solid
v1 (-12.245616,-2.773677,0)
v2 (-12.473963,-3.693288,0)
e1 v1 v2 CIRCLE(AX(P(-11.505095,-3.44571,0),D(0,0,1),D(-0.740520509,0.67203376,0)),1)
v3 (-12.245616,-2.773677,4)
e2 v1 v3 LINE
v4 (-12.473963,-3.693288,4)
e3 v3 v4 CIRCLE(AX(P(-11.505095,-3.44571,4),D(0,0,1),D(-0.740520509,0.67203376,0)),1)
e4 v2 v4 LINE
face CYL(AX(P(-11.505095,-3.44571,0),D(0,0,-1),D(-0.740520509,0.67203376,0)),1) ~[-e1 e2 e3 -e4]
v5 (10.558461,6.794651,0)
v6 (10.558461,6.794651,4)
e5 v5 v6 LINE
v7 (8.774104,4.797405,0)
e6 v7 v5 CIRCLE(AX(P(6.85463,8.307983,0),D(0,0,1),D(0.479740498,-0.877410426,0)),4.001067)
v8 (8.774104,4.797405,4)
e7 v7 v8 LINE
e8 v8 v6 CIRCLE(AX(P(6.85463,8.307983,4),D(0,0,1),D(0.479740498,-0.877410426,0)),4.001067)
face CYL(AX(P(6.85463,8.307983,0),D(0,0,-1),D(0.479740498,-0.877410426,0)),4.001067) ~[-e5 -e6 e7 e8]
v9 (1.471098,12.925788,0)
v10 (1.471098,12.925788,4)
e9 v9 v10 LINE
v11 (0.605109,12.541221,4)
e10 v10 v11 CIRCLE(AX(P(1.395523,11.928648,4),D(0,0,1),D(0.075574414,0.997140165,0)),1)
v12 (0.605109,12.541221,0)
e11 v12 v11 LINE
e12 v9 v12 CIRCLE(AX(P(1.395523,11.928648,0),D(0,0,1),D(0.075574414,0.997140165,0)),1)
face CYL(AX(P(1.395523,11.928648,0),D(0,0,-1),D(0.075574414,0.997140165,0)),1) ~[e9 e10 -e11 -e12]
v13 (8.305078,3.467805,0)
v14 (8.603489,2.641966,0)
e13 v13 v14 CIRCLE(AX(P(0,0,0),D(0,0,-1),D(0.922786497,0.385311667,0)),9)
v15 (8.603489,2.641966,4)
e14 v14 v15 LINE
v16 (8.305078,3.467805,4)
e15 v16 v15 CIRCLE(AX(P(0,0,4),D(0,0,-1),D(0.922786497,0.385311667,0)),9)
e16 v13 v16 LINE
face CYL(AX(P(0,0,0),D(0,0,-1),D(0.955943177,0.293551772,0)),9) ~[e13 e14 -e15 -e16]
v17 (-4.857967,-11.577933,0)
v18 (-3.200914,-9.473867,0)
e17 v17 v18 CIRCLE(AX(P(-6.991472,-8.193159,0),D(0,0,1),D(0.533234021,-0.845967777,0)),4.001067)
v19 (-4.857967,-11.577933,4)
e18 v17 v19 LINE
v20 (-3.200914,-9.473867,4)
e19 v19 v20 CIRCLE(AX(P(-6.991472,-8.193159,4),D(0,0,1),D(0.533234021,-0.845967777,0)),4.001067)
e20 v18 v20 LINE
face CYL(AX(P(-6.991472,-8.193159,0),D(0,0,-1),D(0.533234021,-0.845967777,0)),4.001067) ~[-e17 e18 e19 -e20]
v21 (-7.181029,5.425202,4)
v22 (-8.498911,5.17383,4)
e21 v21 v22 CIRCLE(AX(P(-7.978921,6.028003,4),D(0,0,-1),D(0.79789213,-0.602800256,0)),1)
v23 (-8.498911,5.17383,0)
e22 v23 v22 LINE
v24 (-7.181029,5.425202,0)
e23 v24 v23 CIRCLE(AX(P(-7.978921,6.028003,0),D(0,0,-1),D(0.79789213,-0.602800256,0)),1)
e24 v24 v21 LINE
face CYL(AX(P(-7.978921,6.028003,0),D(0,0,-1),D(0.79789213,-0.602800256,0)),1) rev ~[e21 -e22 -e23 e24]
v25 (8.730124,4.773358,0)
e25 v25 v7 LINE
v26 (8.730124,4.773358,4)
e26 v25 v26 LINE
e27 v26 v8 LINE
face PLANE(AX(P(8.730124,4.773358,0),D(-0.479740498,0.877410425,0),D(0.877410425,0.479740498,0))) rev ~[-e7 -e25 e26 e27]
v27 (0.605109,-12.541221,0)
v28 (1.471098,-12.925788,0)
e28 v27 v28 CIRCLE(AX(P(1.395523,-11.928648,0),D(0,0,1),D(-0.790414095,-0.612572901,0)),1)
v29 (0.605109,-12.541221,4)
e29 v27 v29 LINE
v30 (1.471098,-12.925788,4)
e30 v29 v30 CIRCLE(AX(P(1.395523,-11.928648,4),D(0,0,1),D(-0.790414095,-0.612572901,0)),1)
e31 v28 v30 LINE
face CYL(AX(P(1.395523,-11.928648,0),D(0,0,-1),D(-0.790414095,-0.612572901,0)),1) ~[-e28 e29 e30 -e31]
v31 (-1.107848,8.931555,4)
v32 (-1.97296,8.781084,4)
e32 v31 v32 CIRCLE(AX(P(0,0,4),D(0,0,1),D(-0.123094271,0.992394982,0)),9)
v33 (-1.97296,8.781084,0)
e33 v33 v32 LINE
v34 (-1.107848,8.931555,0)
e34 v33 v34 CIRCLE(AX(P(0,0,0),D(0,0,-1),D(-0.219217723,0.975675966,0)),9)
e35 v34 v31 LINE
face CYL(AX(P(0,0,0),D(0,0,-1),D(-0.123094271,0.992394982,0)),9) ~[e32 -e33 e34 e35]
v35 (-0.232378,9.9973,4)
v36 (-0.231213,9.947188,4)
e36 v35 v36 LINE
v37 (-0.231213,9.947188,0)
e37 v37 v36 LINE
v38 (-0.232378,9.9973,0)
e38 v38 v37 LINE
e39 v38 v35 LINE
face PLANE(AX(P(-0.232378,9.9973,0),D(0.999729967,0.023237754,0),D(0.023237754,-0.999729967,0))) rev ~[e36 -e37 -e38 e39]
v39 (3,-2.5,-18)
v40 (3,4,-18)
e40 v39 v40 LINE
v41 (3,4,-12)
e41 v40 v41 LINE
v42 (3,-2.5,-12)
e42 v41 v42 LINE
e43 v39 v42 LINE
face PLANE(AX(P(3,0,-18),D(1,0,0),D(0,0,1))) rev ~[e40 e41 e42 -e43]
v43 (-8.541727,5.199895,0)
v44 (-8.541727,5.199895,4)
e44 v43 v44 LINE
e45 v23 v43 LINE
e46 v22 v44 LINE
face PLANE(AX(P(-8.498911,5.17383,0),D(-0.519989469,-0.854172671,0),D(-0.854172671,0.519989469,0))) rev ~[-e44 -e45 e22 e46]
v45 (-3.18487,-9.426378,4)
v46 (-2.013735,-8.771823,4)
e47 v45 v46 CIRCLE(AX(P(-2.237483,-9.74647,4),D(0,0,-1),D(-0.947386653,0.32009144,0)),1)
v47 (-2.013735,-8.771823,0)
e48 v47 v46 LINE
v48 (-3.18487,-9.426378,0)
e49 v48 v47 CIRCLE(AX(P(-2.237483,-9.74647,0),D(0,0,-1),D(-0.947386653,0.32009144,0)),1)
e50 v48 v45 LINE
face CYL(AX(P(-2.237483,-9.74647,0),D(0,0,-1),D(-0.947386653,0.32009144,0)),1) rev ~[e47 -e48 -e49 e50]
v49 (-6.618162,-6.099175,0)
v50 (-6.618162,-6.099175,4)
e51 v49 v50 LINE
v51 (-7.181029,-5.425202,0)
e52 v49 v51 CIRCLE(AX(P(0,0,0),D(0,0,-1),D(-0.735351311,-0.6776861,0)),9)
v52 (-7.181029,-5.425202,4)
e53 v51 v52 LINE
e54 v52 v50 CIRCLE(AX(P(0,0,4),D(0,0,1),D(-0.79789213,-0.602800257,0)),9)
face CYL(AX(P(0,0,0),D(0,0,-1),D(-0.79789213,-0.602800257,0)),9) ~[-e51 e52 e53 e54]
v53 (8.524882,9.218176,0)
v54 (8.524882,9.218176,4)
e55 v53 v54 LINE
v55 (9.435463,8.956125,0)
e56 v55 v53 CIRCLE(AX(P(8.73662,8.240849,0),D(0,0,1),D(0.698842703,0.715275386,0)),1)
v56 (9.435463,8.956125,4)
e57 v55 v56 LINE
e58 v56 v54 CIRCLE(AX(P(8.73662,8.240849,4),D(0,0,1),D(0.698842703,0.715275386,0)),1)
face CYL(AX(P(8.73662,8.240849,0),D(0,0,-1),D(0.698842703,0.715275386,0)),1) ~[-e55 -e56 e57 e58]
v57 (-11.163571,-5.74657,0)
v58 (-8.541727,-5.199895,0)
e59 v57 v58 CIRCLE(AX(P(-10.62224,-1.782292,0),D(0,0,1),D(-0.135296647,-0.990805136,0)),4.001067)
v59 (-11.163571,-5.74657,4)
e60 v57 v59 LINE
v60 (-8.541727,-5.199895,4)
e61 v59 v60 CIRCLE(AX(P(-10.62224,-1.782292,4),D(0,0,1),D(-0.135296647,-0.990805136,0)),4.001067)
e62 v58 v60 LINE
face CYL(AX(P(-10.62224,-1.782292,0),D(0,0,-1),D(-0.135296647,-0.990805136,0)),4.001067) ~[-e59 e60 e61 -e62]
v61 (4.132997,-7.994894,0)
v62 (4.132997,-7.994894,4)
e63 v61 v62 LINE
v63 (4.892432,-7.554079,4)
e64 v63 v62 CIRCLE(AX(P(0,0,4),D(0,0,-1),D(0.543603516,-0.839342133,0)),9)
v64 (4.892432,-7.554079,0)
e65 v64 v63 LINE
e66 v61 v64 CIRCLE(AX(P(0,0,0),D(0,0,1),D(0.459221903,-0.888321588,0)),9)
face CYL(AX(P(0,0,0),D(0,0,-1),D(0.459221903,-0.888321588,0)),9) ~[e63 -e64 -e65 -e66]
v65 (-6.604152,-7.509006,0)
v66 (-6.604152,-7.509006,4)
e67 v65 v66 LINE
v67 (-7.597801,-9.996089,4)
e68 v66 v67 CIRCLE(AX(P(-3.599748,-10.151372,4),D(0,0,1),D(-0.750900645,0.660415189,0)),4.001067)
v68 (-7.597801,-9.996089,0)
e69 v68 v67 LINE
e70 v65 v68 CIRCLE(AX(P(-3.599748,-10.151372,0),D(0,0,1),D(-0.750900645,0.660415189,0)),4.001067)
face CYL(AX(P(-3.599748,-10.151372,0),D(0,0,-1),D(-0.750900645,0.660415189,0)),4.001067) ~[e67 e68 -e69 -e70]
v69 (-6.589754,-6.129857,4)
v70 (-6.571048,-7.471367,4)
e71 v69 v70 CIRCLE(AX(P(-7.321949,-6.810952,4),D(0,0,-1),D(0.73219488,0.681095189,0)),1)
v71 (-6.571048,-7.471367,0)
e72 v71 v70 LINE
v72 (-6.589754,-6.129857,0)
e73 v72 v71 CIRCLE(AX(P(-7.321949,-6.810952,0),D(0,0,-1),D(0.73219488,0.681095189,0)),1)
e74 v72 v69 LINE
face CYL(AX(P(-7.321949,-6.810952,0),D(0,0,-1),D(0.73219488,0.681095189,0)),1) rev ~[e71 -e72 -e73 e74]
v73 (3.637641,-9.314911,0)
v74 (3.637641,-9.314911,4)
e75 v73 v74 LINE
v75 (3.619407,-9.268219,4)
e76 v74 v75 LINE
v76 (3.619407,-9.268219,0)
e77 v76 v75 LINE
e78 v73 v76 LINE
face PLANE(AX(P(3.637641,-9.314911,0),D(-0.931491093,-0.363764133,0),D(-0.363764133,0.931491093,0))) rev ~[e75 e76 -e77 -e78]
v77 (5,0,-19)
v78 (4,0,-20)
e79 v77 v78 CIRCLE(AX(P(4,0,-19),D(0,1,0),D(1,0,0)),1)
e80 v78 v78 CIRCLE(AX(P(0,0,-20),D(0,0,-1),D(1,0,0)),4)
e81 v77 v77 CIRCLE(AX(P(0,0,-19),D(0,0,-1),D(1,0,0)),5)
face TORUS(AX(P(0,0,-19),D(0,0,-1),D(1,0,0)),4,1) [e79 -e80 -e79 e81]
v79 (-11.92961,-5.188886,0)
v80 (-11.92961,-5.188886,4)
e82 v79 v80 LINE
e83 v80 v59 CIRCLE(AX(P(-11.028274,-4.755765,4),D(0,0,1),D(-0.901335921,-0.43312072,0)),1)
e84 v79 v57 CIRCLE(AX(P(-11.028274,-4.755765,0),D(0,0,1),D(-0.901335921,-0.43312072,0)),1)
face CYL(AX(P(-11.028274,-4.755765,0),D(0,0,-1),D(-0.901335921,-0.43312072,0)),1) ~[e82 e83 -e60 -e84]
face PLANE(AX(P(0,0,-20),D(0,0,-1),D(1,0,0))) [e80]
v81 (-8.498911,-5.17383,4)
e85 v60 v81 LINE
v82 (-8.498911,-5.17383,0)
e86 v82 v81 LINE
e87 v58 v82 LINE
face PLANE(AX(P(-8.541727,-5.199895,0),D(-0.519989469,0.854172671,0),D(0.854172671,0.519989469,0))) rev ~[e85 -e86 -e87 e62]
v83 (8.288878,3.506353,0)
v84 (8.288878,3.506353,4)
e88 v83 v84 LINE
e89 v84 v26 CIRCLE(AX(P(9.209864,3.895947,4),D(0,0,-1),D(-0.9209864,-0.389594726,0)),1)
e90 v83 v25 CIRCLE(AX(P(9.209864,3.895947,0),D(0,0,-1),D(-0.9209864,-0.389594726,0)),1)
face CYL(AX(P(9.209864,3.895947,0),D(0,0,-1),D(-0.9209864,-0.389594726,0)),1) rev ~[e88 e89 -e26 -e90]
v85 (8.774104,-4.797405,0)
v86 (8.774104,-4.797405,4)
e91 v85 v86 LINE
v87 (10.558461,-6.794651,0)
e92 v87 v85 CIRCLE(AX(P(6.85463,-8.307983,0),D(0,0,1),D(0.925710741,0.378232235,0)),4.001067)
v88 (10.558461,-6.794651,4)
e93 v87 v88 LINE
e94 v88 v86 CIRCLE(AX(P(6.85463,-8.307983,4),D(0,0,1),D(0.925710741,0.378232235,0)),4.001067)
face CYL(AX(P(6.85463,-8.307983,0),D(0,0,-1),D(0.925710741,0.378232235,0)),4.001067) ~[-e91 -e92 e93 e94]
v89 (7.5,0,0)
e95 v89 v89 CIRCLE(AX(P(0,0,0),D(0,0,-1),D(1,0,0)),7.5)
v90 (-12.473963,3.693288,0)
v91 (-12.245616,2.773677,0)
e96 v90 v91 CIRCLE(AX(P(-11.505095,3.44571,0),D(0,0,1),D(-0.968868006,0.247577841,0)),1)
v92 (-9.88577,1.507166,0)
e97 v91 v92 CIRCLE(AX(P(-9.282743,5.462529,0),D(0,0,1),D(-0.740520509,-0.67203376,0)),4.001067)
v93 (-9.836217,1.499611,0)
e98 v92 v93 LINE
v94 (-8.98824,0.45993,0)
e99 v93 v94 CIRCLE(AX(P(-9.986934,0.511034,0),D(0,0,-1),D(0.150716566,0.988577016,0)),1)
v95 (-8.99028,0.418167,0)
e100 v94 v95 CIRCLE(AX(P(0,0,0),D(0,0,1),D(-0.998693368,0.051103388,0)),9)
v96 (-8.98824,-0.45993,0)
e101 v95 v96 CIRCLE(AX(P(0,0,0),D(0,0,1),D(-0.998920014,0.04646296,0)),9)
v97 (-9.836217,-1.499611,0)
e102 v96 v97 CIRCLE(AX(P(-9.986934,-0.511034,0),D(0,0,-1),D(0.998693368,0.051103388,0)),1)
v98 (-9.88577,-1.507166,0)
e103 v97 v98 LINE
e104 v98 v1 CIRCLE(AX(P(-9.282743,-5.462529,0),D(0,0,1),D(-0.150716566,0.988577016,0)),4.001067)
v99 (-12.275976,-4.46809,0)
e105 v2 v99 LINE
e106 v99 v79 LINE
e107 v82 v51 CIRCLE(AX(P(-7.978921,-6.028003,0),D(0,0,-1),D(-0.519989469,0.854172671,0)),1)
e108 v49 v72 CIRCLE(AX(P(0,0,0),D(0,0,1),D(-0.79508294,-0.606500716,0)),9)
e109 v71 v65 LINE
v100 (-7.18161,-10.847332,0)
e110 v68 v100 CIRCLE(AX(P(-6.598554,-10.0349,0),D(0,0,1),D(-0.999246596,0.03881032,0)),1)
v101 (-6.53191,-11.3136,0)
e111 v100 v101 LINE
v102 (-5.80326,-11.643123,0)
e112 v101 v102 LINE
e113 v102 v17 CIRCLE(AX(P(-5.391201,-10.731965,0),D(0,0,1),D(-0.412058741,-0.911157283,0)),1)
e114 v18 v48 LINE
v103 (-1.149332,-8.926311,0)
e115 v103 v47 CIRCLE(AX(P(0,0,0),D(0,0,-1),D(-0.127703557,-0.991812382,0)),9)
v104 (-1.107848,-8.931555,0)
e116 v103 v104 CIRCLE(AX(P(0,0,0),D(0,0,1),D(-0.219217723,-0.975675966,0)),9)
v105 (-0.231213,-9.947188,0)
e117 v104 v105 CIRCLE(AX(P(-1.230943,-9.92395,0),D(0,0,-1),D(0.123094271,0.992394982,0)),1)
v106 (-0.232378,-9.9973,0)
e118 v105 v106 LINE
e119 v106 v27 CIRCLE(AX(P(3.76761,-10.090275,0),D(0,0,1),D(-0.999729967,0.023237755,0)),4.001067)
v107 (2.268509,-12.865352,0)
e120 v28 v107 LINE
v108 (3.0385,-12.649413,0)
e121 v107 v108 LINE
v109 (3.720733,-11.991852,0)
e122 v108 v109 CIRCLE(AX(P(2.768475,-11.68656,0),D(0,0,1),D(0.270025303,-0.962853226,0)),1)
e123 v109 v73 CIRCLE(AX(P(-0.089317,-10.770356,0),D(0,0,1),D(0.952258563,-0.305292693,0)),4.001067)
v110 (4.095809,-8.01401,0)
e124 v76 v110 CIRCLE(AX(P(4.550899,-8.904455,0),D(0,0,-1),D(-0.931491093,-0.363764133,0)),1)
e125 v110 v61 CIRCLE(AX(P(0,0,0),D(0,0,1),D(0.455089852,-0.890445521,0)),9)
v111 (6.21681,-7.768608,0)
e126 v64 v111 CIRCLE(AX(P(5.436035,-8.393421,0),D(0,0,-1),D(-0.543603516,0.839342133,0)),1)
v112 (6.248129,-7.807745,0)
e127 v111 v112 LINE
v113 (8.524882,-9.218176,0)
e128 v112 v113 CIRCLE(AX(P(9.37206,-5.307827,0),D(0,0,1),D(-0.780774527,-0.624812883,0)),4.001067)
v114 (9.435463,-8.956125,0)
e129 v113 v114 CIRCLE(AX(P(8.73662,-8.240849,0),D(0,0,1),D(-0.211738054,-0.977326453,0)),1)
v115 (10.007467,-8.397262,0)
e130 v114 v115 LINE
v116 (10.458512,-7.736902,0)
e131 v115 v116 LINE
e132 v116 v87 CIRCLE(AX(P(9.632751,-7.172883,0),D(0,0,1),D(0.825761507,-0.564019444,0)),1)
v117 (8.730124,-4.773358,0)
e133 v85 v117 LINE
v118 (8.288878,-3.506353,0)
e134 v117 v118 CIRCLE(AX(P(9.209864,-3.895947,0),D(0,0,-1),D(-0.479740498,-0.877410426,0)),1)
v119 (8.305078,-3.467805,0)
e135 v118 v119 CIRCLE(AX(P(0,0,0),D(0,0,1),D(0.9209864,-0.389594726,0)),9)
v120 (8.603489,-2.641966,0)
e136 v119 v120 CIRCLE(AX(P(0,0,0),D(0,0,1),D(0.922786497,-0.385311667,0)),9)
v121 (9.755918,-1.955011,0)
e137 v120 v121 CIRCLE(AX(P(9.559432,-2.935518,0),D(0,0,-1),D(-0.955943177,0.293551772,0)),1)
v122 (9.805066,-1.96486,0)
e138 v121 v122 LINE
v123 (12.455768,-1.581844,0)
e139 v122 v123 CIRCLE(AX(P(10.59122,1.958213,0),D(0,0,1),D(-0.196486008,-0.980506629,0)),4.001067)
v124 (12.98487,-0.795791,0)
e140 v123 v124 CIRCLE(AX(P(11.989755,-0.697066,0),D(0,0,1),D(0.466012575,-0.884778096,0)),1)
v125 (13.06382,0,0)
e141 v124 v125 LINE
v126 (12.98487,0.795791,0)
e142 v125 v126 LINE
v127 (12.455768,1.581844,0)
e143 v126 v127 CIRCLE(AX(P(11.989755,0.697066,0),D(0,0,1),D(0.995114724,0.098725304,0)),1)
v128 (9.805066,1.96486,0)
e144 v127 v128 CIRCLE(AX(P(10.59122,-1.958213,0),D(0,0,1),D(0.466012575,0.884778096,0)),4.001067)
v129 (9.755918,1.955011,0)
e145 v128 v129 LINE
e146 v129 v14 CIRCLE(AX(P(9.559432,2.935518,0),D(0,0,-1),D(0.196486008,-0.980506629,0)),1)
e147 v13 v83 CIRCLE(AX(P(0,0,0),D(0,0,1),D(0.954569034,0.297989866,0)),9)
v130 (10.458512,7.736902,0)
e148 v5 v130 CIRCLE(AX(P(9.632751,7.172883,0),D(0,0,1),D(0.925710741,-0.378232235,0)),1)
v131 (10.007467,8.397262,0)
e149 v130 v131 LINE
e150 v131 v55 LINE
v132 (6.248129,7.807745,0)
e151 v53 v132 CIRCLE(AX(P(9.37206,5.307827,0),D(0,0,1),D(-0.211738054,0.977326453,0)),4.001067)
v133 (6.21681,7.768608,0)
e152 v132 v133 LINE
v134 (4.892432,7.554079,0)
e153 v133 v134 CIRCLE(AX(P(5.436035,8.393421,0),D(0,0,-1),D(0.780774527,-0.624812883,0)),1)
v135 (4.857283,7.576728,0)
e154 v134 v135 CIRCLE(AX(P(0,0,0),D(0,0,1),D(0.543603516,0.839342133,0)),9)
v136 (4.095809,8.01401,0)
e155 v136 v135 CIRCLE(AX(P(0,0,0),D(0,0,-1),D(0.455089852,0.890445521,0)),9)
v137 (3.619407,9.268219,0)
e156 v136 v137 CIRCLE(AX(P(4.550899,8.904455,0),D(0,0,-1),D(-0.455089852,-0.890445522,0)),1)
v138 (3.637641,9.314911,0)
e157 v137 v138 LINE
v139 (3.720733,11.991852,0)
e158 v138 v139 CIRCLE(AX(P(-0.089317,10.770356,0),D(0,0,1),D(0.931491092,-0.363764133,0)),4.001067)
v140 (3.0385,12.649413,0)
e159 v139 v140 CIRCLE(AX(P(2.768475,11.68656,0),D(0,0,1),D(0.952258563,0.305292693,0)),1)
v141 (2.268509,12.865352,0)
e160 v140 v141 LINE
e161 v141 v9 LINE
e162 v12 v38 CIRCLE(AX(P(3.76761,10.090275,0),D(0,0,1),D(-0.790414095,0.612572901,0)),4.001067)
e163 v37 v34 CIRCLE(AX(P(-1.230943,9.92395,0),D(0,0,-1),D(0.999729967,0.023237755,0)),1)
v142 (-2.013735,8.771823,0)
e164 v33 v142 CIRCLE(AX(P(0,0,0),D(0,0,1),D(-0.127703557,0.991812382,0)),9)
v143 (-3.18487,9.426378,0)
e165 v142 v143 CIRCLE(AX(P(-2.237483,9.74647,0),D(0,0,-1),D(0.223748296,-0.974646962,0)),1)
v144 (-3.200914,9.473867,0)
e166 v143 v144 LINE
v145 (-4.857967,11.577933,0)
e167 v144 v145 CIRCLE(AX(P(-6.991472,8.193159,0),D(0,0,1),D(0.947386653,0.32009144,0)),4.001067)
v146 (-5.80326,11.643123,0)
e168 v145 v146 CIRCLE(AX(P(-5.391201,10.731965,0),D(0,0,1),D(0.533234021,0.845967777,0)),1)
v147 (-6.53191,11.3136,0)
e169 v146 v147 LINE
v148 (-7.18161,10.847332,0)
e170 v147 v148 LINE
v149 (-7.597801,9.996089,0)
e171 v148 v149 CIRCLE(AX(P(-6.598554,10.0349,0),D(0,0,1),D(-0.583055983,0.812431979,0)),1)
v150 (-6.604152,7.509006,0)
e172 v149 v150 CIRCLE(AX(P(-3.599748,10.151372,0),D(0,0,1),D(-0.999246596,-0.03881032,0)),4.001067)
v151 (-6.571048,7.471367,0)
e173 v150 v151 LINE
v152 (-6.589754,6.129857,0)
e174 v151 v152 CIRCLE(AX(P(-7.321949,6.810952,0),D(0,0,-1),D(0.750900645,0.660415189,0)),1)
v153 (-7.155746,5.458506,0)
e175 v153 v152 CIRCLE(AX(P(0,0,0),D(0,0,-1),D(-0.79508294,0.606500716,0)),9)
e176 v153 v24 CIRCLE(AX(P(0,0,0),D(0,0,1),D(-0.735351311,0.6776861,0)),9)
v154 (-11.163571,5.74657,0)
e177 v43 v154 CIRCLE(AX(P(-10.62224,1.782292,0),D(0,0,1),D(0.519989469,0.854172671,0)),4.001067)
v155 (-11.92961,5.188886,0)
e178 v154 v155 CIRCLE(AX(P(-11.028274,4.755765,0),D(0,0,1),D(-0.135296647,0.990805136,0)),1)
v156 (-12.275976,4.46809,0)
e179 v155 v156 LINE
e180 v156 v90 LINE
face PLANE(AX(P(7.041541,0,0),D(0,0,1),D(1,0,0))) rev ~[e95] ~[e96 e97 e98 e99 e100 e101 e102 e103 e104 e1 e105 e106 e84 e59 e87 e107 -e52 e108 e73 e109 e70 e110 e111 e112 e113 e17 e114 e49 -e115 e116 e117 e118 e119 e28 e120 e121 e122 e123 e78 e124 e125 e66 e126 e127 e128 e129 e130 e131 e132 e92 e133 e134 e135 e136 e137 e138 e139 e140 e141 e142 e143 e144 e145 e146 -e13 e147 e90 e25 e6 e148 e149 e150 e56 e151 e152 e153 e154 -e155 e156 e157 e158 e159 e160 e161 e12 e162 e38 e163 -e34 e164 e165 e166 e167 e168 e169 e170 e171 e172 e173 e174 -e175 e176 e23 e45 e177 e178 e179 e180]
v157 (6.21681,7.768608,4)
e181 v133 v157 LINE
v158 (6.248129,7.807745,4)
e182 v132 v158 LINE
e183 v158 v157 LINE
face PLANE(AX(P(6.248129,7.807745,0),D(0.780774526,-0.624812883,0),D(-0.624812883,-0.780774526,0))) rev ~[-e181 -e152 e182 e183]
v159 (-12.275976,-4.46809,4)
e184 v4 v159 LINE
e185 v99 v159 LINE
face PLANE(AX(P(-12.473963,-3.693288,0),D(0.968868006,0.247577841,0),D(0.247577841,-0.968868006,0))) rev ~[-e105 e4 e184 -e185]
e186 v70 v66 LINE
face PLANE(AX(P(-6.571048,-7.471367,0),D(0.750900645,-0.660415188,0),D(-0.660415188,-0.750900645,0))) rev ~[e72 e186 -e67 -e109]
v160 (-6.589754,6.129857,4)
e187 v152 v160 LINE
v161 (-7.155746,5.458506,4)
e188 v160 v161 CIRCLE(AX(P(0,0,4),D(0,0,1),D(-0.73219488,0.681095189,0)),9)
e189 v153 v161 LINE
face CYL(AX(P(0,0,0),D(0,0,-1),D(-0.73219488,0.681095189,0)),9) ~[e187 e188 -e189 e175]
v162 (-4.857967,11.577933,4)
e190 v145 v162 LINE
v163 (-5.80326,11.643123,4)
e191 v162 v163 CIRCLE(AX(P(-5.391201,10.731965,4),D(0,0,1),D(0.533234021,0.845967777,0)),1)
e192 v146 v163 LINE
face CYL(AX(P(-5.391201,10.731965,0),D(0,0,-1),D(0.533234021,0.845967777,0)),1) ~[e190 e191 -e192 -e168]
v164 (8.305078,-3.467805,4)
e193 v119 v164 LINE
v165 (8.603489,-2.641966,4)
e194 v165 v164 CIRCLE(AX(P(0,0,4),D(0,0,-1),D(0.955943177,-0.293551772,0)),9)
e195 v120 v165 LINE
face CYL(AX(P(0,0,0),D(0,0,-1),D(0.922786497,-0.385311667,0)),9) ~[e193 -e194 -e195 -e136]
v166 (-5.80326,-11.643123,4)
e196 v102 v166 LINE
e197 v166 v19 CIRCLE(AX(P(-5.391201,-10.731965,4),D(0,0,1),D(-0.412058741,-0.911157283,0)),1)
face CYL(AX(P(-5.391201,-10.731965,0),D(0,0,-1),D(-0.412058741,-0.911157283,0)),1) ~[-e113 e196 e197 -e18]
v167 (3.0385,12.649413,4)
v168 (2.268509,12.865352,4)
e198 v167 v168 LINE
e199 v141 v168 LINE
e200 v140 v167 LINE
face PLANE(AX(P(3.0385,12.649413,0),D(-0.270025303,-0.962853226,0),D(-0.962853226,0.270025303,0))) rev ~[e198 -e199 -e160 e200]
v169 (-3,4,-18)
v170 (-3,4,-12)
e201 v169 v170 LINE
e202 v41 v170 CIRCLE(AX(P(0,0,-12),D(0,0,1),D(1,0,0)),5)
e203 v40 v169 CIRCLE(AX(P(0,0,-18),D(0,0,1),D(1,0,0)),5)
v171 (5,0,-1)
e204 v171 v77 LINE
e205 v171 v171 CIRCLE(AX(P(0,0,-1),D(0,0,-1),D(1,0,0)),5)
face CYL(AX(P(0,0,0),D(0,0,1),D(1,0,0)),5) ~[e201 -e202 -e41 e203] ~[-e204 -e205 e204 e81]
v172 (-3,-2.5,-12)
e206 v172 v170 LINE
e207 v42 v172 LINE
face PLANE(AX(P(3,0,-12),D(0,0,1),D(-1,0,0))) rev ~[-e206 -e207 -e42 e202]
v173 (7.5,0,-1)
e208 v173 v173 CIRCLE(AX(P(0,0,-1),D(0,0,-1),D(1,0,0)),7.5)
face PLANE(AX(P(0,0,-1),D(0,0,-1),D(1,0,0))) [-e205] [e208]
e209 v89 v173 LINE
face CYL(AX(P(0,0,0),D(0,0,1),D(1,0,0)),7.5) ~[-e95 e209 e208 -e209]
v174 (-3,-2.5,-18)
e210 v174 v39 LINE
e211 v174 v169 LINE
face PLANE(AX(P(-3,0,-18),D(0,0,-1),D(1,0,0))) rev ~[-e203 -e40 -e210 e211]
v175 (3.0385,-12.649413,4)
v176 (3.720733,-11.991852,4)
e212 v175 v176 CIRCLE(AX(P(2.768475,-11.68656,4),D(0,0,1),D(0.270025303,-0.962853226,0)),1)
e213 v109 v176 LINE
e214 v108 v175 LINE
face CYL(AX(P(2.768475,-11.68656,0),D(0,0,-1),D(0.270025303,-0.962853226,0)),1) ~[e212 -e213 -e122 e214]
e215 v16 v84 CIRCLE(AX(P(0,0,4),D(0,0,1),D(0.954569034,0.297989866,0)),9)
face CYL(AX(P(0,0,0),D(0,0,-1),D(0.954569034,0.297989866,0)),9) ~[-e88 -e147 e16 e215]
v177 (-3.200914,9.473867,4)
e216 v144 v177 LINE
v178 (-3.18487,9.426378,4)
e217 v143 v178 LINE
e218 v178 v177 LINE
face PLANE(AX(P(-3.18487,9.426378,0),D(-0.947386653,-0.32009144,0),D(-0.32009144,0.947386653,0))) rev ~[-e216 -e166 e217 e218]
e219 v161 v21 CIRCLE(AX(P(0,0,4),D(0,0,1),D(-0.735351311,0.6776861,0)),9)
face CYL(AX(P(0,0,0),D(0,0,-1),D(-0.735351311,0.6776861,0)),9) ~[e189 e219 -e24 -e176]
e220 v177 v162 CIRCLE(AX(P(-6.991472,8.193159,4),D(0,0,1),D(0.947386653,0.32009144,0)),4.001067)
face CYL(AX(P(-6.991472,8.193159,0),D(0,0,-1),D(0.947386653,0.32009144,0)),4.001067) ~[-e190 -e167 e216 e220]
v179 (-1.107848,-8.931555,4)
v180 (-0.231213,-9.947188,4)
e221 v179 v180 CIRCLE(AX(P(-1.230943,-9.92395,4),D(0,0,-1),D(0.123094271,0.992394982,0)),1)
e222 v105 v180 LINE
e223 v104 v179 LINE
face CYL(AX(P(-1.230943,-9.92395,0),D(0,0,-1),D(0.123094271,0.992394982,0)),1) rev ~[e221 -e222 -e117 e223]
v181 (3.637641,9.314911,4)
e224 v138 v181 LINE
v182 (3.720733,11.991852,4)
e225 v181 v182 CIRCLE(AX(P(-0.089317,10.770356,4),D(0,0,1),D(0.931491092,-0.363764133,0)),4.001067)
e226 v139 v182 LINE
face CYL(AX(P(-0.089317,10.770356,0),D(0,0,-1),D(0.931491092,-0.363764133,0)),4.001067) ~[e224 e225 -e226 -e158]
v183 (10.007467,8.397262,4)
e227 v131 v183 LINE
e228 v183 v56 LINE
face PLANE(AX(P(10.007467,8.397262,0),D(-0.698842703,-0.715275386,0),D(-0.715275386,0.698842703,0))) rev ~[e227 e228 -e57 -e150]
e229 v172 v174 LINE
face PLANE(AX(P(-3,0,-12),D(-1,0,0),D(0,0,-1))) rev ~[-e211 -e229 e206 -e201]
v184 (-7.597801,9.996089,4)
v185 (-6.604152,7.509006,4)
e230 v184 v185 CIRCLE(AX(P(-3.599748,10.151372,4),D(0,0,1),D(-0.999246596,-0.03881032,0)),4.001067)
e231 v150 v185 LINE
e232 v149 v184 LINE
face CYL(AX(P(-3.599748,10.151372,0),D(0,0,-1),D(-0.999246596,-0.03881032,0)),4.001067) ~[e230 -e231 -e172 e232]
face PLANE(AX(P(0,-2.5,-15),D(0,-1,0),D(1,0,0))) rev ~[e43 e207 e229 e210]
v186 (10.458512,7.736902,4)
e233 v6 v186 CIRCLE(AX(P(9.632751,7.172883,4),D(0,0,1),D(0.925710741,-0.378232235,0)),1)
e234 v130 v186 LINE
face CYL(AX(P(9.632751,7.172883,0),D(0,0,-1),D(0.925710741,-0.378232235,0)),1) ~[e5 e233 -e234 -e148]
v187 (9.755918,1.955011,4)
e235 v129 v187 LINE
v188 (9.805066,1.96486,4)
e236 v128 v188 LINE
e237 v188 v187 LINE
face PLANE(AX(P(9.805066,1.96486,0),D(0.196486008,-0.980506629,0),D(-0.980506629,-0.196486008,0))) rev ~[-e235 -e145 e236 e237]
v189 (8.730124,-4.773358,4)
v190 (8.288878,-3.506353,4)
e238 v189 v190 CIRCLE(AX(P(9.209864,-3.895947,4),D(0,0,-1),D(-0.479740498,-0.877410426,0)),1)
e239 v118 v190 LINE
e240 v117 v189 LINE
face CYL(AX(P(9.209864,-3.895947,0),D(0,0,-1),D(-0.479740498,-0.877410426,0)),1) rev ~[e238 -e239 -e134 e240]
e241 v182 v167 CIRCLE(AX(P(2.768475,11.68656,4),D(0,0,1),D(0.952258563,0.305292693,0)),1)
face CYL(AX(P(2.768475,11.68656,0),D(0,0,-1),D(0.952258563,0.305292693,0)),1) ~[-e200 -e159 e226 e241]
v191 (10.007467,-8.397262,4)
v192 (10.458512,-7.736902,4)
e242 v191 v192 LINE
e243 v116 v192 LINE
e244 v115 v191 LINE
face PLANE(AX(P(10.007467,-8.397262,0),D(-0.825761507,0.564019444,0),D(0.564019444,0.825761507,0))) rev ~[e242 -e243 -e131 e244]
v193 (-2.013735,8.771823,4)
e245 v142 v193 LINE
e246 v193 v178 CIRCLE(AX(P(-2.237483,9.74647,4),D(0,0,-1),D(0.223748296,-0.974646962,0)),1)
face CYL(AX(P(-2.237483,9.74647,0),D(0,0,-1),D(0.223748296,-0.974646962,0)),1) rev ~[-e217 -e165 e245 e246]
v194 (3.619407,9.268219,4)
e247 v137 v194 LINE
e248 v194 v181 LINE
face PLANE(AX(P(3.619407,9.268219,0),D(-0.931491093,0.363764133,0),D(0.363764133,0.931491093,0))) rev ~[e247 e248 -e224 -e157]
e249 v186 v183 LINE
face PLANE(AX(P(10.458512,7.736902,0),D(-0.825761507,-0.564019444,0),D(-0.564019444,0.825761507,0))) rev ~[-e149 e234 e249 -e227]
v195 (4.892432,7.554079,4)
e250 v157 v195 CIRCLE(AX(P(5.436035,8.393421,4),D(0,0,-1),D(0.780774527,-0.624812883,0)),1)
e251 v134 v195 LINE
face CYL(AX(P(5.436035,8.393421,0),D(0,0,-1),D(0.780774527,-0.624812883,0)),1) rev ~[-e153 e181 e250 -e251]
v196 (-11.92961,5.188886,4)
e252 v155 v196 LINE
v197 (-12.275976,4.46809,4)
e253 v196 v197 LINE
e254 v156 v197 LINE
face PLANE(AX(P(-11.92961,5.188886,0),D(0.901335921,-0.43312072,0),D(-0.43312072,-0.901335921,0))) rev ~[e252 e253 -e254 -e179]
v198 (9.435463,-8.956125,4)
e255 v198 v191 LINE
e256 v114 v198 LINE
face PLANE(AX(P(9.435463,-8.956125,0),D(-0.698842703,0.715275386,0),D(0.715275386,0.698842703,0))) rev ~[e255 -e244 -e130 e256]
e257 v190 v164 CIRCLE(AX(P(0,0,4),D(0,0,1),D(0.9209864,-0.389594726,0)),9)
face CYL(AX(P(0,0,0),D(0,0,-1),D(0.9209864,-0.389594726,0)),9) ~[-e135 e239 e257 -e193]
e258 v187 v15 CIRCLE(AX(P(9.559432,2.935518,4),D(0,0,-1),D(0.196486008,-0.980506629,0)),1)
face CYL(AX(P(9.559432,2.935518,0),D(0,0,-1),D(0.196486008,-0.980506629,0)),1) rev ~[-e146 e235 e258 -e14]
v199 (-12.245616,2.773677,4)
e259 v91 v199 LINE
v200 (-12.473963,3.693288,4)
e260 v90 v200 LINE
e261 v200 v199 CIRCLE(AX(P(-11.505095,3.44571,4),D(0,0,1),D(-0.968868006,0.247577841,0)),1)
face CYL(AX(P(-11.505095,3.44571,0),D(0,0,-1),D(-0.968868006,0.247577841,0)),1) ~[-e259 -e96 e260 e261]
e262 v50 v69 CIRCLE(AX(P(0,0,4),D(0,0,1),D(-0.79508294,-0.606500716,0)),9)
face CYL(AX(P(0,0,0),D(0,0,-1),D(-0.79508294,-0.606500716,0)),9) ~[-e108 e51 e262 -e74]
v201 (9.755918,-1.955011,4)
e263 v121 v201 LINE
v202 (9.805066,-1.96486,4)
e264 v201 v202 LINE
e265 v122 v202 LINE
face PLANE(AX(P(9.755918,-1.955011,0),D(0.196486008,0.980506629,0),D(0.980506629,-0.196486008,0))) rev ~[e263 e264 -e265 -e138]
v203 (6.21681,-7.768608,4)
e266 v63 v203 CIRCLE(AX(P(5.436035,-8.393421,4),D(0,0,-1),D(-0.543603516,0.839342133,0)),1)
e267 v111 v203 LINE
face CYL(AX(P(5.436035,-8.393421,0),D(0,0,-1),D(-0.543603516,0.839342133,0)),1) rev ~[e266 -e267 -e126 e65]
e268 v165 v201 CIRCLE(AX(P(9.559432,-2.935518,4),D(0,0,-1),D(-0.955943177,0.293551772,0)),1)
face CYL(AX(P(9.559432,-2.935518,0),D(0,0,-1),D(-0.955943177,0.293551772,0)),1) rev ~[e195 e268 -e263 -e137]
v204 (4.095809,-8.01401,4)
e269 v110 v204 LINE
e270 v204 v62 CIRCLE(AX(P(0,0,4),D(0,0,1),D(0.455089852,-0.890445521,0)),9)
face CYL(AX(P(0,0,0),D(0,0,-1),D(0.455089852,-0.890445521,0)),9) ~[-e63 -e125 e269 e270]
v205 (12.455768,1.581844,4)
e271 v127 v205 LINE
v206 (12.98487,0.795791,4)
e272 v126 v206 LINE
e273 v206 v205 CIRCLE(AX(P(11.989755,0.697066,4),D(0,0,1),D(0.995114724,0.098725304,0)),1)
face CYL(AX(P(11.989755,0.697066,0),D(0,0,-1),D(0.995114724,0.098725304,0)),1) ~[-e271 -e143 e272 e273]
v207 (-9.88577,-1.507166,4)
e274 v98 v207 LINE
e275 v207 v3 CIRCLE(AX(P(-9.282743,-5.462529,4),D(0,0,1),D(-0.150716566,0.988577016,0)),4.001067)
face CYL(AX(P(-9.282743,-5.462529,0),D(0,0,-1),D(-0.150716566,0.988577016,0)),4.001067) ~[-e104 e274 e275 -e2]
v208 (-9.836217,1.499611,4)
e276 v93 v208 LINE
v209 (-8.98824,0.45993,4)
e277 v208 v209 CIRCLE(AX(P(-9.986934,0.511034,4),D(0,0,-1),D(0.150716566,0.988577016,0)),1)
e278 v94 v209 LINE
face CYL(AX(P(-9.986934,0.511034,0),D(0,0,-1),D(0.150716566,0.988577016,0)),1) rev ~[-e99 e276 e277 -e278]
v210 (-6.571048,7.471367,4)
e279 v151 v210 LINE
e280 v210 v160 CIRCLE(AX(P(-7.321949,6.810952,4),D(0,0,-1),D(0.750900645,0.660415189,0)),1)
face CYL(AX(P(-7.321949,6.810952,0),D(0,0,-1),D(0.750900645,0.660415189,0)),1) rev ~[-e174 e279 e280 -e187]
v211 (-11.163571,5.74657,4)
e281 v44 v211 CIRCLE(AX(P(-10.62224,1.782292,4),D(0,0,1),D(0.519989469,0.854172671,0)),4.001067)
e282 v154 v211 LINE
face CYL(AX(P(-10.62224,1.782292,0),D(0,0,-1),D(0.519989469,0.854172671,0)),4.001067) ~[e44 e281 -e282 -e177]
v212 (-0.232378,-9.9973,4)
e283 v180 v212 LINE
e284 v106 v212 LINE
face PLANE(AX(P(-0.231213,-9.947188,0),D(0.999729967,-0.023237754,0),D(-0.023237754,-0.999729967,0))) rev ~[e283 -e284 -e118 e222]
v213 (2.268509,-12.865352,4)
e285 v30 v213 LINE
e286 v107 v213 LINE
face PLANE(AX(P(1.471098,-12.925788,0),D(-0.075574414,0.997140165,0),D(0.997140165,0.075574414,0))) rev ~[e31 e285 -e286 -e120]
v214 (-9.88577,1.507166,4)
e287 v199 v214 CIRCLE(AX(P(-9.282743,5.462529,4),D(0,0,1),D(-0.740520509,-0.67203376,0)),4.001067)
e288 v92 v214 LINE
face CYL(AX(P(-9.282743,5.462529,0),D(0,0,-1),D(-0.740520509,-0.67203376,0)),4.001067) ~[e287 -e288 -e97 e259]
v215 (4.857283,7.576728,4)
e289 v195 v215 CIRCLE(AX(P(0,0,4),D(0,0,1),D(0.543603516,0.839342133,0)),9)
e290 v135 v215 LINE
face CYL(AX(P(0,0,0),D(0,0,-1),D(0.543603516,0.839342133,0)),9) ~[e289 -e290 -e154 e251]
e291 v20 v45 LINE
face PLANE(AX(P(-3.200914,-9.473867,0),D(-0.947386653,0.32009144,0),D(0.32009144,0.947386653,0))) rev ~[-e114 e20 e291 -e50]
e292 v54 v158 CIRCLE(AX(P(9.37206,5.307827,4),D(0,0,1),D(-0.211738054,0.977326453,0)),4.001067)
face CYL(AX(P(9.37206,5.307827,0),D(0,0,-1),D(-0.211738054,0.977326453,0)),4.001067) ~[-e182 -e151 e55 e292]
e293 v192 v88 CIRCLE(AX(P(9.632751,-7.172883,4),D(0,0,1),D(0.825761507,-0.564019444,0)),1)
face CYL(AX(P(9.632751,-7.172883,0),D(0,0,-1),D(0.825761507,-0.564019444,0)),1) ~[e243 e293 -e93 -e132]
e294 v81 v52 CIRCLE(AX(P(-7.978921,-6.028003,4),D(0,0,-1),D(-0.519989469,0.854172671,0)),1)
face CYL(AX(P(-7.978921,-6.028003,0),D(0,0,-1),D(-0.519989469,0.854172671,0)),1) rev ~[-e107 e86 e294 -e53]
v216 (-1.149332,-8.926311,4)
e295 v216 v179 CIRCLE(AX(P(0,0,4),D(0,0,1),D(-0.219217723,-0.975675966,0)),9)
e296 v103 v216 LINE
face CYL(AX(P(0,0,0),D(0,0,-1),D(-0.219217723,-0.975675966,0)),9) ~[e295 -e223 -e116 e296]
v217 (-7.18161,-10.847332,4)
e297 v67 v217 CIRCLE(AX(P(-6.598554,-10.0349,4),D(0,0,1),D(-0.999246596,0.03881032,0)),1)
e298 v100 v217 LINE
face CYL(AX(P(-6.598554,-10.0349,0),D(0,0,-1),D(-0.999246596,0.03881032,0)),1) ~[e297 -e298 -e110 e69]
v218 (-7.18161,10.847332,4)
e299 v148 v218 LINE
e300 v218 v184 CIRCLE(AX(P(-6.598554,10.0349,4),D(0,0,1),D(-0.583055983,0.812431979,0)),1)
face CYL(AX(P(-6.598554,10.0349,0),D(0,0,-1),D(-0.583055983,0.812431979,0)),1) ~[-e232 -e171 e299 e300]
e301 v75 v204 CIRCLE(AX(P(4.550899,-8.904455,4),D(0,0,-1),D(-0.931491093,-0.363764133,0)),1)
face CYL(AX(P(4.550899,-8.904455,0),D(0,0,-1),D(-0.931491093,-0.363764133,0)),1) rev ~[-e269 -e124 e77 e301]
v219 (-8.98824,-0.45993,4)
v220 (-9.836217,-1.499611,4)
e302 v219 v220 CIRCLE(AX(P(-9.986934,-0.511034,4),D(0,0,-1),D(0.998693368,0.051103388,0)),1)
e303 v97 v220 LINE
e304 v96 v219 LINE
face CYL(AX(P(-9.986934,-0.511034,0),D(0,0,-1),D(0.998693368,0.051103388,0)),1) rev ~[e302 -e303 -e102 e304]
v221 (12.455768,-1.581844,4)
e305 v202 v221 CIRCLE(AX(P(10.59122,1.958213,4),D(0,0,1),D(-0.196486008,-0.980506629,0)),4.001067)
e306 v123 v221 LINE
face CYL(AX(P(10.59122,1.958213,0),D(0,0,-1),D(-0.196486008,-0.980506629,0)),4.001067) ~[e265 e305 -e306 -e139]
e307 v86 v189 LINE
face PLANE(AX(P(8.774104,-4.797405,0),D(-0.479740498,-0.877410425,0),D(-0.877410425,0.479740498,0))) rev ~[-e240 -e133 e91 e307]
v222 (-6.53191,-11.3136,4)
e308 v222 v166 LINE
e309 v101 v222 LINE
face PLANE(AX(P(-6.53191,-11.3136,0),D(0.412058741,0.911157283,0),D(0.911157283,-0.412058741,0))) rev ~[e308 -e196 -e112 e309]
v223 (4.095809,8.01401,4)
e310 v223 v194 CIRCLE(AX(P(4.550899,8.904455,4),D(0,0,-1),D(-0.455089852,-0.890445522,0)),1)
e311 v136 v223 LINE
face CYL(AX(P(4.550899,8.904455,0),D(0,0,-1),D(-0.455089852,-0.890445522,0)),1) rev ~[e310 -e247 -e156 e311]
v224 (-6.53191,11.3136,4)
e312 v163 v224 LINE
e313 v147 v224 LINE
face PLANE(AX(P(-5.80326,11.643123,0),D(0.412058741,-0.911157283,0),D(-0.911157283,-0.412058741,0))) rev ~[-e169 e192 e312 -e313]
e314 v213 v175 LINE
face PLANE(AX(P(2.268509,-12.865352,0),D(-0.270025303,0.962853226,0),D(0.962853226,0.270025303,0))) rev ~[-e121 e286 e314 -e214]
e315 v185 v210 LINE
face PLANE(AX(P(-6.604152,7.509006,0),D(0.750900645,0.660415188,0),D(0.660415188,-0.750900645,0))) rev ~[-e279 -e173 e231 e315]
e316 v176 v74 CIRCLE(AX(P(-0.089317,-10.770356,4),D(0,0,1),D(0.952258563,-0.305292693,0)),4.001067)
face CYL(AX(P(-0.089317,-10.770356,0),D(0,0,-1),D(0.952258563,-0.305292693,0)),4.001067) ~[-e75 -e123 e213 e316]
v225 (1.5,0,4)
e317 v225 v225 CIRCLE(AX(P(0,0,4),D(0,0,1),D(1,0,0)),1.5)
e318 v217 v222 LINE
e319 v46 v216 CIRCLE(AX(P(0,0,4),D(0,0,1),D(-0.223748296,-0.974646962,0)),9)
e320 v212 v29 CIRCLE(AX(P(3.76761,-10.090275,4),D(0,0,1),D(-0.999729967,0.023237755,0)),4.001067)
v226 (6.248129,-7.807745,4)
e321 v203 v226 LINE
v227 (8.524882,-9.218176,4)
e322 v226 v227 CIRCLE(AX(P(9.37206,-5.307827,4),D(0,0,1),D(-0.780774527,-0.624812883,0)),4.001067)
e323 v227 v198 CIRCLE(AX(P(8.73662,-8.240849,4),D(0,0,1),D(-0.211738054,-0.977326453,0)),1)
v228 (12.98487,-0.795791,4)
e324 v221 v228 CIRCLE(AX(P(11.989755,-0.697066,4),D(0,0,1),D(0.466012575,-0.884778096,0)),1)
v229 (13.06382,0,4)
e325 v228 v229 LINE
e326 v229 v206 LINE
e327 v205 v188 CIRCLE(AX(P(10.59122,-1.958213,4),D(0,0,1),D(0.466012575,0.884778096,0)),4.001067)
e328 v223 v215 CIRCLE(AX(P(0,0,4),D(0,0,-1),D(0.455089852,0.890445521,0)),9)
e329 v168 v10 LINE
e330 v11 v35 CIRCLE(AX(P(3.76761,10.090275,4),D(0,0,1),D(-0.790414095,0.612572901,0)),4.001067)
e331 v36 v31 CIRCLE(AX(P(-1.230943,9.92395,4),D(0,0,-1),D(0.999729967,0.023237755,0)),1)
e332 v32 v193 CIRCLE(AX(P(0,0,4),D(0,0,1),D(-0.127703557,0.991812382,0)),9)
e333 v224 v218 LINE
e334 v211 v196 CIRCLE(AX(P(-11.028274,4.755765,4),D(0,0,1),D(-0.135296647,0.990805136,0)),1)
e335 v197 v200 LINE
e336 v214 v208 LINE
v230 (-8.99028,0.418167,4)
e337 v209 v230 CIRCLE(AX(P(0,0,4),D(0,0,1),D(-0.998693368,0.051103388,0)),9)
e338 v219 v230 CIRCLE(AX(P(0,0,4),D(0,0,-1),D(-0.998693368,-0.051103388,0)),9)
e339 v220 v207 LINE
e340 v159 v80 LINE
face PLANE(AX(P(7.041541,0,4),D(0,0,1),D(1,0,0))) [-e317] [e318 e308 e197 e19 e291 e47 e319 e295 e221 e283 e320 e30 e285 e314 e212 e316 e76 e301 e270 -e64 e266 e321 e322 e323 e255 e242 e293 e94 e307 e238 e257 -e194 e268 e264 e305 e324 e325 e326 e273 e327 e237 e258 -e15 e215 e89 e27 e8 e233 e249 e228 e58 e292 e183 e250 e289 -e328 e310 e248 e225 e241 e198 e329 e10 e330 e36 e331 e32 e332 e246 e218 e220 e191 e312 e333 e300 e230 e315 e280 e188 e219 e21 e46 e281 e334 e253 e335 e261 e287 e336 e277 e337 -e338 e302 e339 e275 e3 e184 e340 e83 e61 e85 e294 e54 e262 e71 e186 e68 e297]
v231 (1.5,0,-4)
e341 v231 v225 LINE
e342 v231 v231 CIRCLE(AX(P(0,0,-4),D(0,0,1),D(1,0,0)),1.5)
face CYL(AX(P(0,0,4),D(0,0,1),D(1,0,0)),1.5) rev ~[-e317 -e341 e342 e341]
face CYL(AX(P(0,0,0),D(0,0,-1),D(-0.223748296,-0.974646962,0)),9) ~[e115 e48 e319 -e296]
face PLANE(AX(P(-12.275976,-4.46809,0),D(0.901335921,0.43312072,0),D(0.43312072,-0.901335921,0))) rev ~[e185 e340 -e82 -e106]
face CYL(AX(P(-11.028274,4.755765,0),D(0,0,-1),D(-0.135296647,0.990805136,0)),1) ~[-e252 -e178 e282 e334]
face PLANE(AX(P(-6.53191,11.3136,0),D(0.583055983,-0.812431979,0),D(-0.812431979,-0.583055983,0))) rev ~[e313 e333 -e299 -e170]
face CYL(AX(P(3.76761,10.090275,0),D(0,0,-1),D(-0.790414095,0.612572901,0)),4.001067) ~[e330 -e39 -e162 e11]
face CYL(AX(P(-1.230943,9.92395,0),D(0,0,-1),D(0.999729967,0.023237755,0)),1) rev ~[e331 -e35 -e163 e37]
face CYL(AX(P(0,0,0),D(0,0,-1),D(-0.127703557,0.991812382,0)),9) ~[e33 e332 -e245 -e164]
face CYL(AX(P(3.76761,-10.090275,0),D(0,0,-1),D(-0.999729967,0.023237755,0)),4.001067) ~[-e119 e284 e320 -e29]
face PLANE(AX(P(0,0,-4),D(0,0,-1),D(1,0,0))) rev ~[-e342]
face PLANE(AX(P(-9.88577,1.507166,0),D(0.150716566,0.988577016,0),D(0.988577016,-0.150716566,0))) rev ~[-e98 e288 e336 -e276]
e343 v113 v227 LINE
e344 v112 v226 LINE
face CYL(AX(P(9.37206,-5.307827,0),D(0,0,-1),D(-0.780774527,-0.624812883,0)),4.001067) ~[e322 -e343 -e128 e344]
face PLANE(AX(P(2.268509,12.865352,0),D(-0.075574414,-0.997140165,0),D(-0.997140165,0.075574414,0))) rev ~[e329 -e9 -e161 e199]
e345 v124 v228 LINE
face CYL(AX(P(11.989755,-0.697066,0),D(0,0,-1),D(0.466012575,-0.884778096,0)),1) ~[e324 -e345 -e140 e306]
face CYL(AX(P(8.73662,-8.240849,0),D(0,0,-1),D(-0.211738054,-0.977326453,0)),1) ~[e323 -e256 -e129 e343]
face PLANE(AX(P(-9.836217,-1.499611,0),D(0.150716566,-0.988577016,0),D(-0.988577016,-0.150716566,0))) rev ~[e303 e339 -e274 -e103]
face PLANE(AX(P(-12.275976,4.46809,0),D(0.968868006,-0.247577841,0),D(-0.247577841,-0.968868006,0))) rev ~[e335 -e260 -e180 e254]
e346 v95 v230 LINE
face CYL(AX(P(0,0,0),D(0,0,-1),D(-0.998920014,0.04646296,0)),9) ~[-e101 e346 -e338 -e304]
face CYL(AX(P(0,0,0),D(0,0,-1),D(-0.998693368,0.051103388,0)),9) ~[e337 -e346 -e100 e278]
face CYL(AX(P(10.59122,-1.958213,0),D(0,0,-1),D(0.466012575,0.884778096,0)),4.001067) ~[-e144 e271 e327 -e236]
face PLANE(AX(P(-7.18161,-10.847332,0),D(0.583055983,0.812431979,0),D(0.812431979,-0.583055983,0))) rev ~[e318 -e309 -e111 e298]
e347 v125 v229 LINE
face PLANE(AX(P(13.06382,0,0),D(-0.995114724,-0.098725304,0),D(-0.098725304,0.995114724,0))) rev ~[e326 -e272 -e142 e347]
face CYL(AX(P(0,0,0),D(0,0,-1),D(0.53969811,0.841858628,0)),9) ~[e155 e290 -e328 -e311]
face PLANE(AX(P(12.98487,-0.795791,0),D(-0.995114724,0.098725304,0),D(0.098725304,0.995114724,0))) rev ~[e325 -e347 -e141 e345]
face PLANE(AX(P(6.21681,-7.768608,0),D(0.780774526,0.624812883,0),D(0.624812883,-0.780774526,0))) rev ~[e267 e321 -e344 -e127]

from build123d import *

# Parameters (mm, degrees)
F1_DEPTH  = 4
F2_COUNT  = 9
F4_R      = 1.5
F5_DEPTH  = 4
F6_R      = 5
F7_DEPTH  = 20
F8_DEPTH  = 4
F10_DEPTH = 6
F11_DEPTH = 2.5
F12_R     = 1
F13_R     = 7.5
F13_R_2   = 5
F14_DEPTH = 1


with BuildPart() as f1:
    # F0 (on Top) → F1 (new body)
    with BuildSketch(Plane.XY):
        with BuildLine():
            Line((8.3050784754, 3.467805), (0, 0))
            Line((0, 0), (8.3050784754, -3.467805))
            ThreePointArc((8.3050784754, -3.467805), (8.4643613218, -3.0585270007), (8.6034885901, -2.6419659499))
            ThreePointArc((8.6034885901, -2.6419659499), (9.047405848, -2.0765477235), (9.7559177746, -1.9550110935))
            Line((9.7559177746, -1.9550110935), (9.805066286, -1.9648600782))
            ThreePointArc((9.805066286, -1.9648600782), (11.1634165035, -2.0017278276), (12.4557678163, -1.5818437618))
            ThreePointArc((12.4557678163, -1.5818437618), (12.8193292248, -1.2554624828), (12.9848699654, -0.7957909694))
            Line((12.9848699654, -0.7957909694), (13.0638203653, 0))
            Line((13.0638203653, 0), (12.9848699654, 0.7957909694))
            ThreePointArc((12.9848699654, 0.7957909694), (12.8193292248, 1.2554624828), (12.4557678163, 1.5818437618))
            ThreePointArc((12.4557678163, 1.5818437618), (11.1634165035, 2.0017278276), (9.805066286, 1.9648600782))
            Line((9.805066286, 1.9648600782), (9.7559177746, 1.9550110935))
            ThreePointArc((9.7559177746, 1.9550110935), (9.047405848, 2.0765477235), (8.6034885901, 2.6419659499))
            ThreePointArc((8.6034885901, 2.6419659499), (8.4643613218, 3.0585270007), (8.3050784754, 3.467805))
        make_face()
    extrude(amount=F1_DEPTH)


with BuildPart() as f2_1:
    # F2: instance of F1
    add(f1.part.rotate(Axis((0, 0, 2), (0, 0, -1)), 1 * 360 / F2_COUNT))


with BuildPart() as f2_2:
    # F2: instance of F1
    add(f1.part.rotate(Axis((0, 0, 2), (0, 0, -1)), 2 * 360 / F2_COUNT))


with BuildPart() as f2_3:
    # F2: instance of F1
    add(f1.part.rotate(Axis((0, 0, 2), (0, 0, -1)), 3 * 360 / F2_COUNT))


with BuildPart() as f2_4:
    # F2: instance of F1
    add(f1.part.rotate(Axis((0, 0, 2), (0, 0, -1)), 4 * 360 / F2_COUNT))


with BuildPart() as f2_5:
    # F2: instance of F1
    add(f1.part.rotate(Axis((0, 0, 2), (0, 0, -1)), 5 * 360 / F2_COUNT))


with BuildPart() as f2_6:
    # F2: instance of F1
    add(f1.part.rotate(Axis((0, 0, 2), (0, 0, -1)), 6 * 360 / F2_COUNT))


with BuildPart() as f2_7:
    # F2: instance of F1
    add(f1.part.rotate(Axis((0, 0, 2), (0, 0, -1)), 7 * 360 / F2_COUNT))


with BuildPart() as f2_8:
    # F2: instance of F1
    add(f1.part.rotate(Axis((0, 0, 2), (0, 0, -1)), 8 * 360 / F2_COUNT))


with BuildPart() as f2_7_1:
    add(f2_7.part)

    # F3: union F2_6, F2_4, F2_5, F1, F2_1, F2_3, F2_2, F2_8
    add(f2_6.part)
    add(f2_4.part)
    add(f2_5.part)
    add(f1.part)
    add(f2_1.part)
    add(f2_3.part)
    add(f2_2.part)
    add(f2_8.part)

    # F4 (on face) → F5 (cut, through all)
    with BuildSketch(Plane.XY.offset(4)):
        Circle(F4_R)
    extrude(amount=-F5_DEPTH, mode=Mode.SUBTRACT)

    # F6 (on face) → F7 (join)
    with BuildSketch(Plane(origin=(0, 0, 0), x_dir=(1, 0, 0), z_dir=(0, 0, -1))):
        Circle(F6_R)
    extrude(amount=F7_DEPTH)

    # F8 (cut): a face of the model
    f8_faces = [f2_7_1.faces().sort_by_distance(p)[0] for p in [
        (0, 0, 0),
    ]]
    extrude(f8_faces, amount=-F8_DEPTH, mode=Mode.SUBTRACT)

    # F9 (on Front) → F10 (cut, up to face)
    with BuildSketch(Plane.XZ):
        Polygon((3, -12), (0, -12), (-3, -12), (-3, -18), (3, -18), align=None)
    extrude(amount=-F10_DEPTH, mode=Mode.SUBTRACT)

    # F11 (cut): a face of the model
    f11_faces = [f2_7_1.faces().sort_by_distance(p)[0] for p in [
        (0, 0, -15),
    ]]
    extrude(f11_faces, amount=-F11_DEPTH, mode=Mode.SUBTRACT)

    # F12
    f12_edges = [f2_7_1.edges().sort_by_distance(p)[0] for p in [
        (-5, 0, -20),
    ]]
    fillet(f12_edges, radius=F12_R)

    # F13 (on face) → F14 (join)
    with BuildSketch(Plane(origin=(0, 0, 0), x_dir=(1, 0, 0), z_dir=(0, 0, -1))):
        Circle(F13_R)
        Circle(F13_R_2, mode=Mode.SUBTRACT)
    extrude(amount=F14_DEPTH)


solid = f2_7_1.part
